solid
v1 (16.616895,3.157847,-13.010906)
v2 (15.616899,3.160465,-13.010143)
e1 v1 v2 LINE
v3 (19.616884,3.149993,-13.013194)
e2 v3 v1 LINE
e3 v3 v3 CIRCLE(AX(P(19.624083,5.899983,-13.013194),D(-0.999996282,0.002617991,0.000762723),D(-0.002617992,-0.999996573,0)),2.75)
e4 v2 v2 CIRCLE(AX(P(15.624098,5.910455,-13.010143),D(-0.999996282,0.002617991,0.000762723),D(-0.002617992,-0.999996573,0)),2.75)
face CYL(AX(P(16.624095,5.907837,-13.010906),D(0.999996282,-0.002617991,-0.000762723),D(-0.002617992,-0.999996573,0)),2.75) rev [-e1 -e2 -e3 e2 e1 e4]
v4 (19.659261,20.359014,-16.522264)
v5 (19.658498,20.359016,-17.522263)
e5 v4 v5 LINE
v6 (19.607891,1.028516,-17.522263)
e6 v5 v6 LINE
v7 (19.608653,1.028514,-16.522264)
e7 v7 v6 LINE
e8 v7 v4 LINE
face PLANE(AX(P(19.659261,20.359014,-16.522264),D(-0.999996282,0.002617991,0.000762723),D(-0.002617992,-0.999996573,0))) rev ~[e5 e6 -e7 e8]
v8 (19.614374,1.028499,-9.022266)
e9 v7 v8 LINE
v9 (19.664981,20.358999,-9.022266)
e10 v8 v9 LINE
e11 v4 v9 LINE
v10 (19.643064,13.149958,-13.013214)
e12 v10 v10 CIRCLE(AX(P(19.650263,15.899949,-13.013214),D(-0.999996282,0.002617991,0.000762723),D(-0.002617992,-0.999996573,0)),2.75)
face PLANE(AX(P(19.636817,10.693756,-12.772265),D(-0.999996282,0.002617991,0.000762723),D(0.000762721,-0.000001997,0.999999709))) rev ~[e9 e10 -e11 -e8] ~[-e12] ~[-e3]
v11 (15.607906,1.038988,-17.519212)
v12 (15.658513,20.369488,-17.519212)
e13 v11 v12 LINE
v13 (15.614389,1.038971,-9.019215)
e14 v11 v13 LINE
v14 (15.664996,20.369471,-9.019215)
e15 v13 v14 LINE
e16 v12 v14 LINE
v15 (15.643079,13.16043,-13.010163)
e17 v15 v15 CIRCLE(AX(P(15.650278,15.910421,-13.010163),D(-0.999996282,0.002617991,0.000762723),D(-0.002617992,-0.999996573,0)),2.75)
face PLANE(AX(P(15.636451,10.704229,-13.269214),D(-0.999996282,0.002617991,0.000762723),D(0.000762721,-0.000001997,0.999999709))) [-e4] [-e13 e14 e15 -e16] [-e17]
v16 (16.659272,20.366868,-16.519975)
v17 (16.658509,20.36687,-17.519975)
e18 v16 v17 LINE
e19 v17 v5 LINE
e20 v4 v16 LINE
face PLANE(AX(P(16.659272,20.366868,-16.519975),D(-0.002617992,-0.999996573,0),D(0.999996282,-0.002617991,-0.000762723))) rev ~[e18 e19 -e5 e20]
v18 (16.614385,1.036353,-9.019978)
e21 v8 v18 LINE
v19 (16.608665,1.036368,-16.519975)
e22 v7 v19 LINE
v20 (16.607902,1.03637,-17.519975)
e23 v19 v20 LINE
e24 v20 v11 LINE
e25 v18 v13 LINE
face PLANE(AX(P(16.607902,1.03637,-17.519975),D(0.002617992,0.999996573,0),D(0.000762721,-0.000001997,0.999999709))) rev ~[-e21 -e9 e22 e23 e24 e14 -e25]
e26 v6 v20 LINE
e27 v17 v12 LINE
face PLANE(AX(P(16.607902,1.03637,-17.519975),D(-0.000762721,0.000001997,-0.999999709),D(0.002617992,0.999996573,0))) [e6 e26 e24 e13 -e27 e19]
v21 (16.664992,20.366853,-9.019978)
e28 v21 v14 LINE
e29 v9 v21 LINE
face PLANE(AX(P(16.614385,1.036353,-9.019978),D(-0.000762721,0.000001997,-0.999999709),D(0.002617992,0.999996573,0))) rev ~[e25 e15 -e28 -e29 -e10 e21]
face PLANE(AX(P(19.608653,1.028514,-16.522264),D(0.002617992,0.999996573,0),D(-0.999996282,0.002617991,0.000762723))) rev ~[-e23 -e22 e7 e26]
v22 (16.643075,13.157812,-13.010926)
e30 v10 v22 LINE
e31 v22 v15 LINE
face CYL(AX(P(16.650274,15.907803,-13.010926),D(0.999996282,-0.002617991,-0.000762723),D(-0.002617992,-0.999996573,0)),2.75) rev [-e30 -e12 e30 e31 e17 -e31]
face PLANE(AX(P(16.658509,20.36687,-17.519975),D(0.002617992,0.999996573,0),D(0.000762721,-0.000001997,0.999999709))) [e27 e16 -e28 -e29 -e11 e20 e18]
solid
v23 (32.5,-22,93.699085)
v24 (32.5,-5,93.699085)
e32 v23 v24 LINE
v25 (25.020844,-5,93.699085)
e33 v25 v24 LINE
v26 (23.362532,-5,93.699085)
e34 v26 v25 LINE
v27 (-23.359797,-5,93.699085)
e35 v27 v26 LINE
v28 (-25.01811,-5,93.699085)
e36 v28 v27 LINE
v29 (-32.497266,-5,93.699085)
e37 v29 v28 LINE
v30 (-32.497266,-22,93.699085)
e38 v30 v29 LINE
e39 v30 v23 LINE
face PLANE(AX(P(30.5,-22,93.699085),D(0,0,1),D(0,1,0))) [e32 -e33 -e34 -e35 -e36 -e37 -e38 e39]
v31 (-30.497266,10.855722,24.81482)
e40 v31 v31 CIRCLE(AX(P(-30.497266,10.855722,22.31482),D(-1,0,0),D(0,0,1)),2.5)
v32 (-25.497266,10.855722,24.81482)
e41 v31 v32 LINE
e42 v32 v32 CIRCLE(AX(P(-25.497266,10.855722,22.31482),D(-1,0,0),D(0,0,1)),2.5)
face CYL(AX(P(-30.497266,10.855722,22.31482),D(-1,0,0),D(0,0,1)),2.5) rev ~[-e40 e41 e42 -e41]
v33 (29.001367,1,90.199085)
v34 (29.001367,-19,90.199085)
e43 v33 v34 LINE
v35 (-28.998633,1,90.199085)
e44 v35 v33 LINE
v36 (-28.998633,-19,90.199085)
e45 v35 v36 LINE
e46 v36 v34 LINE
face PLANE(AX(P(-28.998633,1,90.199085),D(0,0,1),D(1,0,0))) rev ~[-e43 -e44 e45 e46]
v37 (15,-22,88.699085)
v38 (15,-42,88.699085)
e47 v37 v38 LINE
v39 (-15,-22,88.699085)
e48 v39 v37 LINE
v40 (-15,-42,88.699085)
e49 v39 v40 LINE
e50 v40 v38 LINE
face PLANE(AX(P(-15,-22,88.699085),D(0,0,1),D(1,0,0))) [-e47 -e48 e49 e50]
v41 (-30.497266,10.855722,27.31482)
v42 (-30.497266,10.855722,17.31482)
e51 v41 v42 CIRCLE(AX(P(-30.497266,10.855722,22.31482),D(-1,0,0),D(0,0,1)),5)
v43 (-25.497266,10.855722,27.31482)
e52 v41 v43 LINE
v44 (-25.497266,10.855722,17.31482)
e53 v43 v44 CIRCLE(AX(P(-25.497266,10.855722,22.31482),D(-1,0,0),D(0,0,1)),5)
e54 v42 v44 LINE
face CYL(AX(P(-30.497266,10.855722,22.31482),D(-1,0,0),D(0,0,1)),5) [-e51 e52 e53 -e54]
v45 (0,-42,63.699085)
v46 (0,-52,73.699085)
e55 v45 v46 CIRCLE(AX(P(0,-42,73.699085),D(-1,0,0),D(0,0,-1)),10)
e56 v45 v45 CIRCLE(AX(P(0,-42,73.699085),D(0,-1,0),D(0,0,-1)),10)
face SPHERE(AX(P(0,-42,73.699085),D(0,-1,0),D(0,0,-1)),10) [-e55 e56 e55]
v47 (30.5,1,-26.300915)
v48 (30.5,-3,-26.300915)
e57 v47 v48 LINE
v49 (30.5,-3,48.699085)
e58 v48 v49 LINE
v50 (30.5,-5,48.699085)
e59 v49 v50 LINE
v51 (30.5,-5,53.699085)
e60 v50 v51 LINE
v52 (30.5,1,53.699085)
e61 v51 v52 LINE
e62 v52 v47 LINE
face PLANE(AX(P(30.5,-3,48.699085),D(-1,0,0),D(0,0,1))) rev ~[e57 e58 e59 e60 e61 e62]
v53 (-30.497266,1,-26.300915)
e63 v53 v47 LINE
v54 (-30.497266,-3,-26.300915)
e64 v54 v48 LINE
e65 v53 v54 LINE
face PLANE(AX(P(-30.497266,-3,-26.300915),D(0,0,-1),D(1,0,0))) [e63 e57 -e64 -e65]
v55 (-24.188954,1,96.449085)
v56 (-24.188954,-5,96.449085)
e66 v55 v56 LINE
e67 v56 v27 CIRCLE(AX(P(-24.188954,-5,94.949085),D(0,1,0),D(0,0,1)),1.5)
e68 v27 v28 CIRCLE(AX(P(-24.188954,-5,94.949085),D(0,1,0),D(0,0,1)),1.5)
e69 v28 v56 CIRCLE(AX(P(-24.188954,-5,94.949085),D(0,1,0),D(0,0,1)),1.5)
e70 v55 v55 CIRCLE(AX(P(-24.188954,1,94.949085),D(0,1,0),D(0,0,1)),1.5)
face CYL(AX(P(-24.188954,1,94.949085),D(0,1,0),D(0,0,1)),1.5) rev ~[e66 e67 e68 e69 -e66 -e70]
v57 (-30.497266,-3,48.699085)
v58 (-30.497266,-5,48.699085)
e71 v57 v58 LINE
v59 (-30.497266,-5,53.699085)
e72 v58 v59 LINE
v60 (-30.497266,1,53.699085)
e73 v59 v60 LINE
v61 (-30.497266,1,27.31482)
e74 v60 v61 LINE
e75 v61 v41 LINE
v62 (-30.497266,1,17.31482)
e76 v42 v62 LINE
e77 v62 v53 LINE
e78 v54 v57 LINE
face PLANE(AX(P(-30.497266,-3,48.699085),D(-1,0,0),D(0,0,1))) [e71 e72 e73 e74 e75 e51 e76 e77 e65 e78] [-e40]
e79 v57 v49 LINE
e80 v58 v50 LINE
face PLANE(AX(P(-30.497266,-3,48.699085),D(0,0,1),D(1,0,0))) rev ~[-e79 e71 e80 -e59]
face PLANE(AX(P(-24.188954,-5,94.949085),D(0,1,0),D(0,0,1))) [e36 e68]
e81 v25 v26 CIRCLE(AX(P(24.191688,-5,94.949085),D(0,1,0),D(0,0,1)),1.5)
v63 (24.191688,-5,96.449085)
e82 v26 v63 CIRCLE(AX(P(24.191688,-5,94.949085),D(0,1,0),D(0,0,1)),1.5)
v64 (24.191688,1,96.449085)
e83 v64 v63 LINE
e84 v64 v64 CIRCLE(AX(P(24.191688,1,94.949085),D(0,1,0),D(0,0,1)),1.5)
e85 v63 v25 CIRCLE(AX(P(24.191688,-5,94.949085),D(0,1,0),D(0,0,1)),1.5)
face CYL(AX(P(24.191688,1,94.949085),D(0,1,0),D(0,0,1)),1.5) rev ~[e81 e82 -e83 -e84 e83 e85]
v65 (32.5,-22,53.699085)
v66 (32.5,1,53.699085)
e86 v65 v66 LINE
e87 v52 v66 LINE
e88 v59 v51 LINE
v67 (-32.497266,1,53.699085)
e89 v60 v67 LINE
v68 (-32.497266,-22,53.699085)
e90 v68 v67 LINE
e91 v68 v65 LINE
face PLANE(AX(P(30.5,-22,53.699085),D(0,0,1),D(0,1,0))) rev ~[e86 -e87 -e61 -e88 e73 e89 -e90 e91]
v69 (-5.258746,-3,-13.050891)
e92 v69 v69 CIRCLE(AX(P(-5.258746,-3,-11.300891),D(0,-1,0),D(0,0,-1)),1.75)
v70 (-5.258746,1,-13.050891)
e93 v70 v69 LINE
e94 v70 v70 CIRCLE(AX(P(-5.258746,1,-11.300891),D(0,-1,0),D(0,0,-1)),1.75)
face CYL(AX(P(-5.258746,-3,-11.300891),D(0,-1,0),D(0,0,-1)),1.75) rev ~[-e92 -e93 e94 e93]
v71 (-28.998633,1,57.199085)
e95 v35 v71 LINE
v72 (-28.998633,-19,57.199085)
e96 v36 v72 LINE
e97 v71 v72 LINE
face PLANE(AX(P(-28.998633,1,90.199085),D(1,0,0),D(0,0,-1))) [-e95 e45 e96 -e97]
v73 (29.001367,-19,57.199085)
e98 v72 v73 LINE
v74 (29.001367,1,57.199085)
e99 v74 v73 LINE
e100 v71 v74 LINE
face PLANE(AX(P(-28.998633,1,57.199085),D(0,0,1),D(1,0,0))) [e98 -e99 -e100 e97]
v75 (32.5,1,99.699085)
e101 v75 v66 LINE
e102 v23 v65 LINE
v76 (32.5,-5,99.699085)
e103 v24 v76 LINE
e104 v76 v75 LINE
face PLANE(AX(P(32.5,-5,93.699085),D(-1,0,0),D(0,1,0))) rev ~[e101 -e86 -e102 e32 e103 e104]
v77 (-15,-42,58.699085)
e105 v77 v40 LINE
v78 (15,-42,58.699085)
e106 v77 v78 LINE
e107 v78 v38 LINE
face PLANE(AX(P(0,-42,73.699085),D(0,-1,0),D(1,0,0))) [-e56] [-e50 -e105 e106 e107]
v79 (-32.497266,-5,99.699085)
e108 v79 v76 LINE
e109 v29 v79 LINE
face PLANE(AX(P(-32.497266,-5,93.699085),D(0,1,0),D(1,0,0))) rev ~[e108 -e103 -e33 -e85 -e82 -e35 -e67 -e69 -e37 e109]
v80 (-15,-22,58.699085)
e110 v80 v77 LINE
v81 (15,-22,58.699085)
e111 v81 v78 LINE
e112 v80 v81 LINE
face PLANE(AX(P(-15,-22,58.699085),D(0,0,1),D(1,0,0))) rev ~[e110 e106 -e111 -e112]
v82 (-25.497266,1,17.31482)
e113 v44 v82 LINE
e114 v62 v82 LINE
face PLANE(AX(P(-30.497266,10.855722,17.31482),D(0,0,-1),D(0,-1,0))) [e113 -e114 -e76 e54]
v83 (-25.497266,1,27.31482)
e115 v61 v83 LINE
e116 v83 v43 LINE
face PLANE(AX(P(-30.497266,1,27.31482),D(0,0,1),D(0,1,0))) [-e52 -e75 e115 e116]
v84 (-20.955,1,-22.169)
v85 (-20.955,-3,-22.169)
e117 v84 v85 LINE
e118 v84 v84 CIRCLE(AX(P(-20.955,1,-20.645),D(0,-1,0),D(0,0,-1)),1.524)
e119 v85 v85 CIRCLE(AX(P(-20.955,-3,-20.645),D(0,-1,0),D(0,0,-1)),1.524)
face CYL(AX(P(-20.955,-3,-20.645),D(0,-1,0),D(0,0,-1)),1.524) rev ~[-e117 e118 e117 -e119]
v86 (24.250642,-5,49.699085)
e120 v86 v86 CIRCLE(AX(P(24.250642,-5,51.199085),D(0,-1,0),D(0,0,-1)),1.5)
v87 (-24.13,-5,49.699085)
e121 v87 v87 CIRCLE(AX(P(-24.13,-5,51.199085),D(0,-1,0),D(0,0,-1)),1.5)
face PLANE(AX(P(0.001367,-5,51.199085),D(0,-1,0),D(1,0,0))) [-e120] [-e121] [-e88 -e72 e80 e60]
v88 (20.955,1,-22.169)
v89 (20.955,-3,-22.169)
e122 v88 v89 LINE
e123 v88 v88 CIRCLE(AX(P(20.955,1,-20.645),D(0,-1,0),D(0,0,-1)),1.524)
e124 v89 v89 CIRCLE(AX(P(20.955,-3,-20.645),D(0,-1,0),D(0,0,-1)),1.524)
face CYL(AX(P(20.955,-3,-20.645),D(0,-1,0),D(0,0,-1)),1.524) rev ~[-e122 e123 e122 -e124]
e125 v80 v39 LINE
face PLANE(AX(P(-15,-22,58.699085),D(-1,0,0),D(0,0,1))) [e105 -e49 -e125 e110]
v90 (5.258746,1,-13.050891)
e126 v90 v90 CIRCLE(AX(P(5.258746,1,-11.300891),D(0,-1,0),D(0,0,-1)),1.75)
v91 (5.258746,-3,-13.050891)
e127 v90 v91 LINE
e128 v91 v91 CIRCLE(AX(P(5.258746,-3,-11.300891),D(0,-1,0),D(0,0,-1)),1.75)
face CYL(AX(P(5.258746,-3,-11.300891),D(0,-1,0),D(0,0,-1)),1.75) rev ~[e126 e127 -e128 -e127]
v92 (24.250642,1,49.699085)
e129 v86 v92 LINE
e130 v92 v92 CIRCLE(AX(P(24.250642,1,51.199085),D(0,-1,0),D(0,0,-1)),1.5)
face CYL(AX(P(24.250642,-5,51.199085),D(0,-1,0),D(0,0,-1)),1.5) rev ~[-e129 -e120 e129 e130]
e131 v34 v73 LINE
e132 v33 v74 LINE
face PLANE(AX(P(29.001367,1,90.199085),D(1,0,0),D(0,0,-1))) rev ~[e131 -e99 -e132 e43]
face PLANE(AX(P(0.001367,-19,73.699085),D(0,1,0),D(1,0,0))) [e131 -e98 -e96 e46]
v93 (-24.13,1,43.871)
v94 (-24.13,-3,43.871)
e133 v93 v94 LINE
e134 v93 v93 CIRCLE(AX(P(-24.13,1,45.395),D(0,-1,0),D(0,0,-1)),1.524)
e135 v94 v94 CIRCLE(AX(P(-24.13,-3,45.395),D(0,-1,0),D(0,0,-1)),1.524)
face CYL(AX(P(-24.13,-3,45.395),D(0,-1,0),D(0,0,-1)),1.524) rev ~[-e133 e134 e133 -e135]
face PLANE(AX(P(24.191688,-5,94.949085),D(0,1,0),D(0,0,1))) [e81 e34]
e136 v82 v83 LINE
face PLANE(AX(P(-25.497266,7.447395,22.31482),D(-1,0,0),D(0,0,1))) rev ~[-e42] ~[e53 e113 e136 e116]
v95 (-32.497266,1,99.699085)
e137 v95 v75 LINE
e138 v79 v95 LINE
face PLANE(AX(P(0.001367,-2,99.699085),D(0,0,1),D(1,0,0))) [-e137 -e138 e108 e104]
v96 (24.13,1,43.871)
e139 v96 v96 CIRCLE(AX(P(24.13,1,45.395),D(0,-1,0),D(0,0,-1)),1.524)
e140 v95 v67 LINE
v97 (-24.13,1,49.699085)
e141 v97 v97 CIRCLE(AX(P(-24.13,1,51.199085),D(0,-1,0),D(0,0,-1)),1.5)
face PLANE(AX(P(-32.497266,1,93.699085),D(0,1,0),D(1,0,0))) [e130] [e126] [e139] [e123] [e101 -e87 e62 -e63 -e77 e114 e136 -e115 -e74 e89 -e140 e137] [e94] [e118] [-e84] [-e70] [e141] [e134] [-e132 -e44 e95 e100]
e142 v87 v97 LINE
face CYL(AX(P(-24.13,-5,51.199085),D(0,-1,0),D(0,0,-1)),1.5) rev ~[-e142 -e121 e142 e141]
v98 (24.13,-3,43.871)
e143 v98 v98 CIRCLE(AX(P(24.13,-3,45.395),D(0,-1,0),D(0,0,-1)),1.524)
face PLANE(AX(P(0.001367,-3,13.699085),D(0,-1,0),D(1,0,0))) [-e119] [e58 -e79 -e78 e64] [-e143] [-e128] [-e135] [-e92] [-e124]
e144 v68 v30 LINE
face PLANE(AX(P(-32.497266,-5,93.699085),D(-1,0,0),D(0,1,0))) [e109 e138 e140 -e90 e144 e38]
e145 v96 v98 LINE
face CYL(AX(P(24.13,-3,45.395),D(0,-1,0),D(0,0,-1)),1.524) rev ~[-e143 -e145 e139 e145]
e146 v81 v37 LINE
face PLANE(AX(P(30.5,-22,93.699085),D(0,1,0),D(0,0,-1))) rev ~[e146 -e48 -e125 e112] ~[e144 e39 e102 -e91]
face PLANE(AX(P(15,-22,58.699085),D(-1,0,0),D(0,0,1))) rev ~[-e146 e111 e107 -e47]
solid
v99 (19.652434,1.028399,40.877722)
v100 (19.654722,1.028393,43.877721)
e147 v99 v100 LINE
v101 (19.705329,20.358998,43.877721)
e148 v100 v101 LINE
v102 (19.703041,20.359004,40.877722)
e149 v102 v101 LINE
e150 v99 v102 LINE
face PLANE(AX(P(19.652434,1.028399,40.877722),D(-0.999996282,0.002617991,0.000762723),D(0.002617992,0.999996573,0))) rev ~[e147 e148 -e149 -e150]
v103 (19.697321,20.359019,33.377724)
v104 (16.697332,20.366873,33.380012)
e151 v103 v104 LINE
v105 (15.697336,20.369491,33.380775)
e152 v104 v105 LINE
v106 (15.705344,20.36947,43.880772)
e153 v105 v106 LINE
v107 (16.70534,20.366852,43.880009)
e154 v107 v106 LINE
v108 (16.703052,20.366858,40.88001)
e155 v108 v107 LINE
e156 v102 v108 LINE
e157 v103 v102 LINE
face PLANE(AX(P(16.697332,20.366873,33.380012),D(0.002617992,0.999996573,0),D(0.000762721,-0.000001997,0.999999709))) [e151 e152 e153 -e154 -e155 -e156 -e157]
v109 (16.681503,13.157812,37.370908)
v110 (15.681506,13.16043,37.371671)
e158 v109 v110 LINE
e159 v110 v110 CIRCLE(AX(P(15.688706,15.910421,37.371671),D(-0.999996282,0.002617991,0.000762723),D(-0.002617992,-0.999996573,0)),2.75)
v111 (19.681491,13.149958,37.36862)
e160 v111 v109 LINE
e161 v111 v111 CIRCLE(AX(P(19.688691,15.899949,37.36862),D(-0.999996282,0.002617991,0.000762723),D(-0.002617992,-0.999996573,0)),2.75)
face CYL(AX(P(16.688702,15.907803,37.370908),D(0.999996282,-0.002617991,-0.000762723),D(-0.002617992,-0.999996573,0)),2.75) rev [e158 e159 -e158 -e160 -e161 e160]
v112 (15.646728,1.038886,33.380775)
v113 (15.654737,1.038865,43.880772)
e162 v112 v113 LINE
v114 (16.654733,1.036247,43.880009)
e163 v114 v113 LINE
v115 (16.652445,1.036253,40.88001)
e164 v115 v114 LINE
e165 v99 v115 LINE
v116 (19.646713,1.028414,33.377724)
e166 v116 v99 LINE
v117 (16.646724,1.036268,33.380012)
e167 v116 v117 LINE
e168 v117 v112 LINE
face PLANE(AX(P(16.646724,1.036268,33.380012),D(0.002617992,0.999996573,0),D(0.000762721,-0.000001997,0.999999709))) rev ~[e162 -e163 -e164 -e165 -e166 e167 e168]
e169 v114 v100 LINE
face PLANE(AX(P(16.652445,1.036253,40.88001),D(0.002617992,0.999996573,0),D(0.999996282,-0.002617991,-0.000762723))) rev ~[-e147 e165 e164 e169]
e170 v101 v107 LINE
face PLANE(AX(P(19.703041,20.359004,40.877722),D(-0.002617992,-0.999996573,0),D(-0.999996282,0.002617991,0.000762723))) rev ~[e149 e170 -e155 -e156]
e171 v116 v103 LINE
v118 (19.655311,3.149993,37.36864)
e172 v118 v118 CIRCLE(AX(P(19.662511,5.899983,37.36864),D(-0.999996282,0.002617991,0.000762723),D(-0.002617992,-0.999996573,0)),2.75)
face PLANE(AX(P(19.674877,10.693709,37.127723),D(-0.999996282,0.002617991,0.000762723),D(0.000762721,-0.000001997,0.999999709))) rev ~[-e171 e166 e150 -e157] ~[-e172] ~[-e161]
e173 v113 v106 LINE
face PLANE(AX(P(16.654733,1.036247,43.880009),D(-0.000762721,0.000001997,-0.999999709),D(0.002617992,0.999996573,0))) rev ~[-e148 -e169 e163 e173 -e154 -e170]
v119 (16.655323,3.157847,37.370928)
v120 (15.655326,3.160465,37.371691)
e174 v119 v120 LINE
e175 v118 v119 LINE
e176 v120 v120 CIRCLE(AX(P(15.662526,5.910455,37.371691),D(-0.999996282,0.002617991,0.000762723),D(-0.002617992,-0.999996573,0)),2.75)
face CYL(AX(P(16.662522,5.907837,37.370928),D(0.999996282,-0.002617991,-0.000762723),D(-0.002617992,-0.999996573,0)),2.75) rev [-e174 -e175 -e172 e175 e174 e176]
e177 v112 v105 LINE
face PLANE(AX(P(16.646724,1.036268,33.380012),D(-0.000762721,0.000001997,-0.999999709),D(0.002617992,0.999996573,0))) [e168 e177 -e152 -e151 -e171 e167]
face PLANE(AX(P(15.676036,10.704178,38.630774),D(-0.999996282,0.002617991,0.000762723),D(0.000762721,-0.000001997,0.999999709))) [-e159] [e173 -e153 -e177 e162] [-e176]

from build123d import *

# Parameters (mm, degrees)
SKETCH_1_W               = 60.99726579
SKETCH_1_H               = 80
EXTRUDE_1_DEPTH          = 1
SKETCH_2_R               = 1.524
CUT_EXTRUDE_1_DEPTH      = 1
SKETCH_3_W               = 1
SKETCH_3_H               = 21.992162459
EXTRUDE_2_DEPTH          = 22
SKETCH_7_W               = 7.5
SKETCH_7_H               = 19.330567091
SKETCH_7_R               = 2.75
EXTRUDE_3_DEPTH          = 3
SKETCH_7_H_2             = 19.330671724
EXTRUDE_3_2_DEPTH        = 3
SKETCH_8_R               = 2.5
EXTRUDE_4_DEPTH          = 5
SKETCH_12_W              = 2
SKETCH_12_H              = 21.992162459
EXTRUDE_5_DEPTH          = 22
CUT_EXTRUDE_3_DEPTH      = 72.341536493
CUT_EXTRUDE_3_DEPTH_BACK = 15
SKETCH_9_R               = 1.75
SKETCH_14_W              = 17.99726579
SKETCH_14_H              = 10.99608123
EXTRUDE_6_DEPTH          = 3
SKETCH_15_R              = 1.75
CUT_EXTRUDE_4_DEPTH      = 67.029179397
SKETCH_18_W              = 125.682596232
SKETCH_18_H              = 131.027051286
CUT_EXTRUDE_6_DEPTH      = 66.55792676
EXTRUDE_START            = 3
SKETCH_19_W              = 60.99726579
SKETCH_19_H              = 80
SKETCH_19_R              = 1.524
SKETCH_19_R_2            = 1.75
EXTRUDE_7_DEPTH          = 3
SKETCH_20_W              = 60.99726579
SKETCH_20_H              = 40
EXTRUDE_8_DEPTH          = 23
SKETCH_21_W              = 58
SKETCH_21_H              = 33
CUT_EXTRUDE_7_DEPTH      = 20
SKETCH_26_W              = 30
SKETCH_26_H              = 30
EXTRUDE_9_DEPTH          = 20
EXTRUDE_10_DEPTH         = 3
SKETCH_28_W              = 10.5
SKETCH_28_H              = 19.330671724
SKETCH_28_R              = 2.75
EXTRUDE_11_DEPTH         = 1
EXTRUDE_12_DEPTH         = 1
SKETCH_30_W              = 8.5
SKETCH_30_H              = 19.330567091
SKETCH_30_R              = 2.75
EXTRUDE_13_DEPTH         = 1
SKETCH_31_W              = 60.99726579
SKETCH_31_H              = 5
SKETCH_31_R              = 1.5
EXTRUDE_14_DEPTH         = 2
SKETCH_33_R              = 1.5
CUT_EXTRUDE_8_DEPTH      = 110.173112919
SKETCH_35_W              = 40
SKETCH_35_H              = 23
EXTRUDE_15_DEPTH         = 2
SKETCH_36_W              = 40
SKETCH_36_H              = 23
EXTRUDE_16_DEPTH         = 2
SKETCH_38_W              = 64.99726579
SKETCH_38_H              = 6
EXTRUDE_17_DEPTH         = 6
SKETCH_39_R              = 1.5
CUT_EXTRUDE_11_DEPTH     = 6


with BuildPart() as part:
    # 스케치1 → 보스-돌출1 (new body)
    with BuildSketch(Plane(origin=(0, 0, 0), x_dir=(1, 0, 0), z_dir=(0, 1, 0))):
        with Locations((0.001367105, -13.699085291)):
            Rectangle(SKETCH_1_W, SKETCH_1_H)
    extrude(amount=EXTRUDE_1_DEPTH)

    # 스케치2 → 컷-돌출1 (cut)
    with BuildSketch(Plane.XZ):
        with Locations(Location((-24.13, 45.395, 0), (0, 0, 270))):
            Circle(SKETCH_2_R)
        with Locations(Location((24.13, 45.395, 0), (0, 0, 270))):
            Circle(SKETCH_2_R)
        with Locations(Location((-20.955, -20.645, 0), (0, 0, 270))):
            Circle(SKETCH_2_R)
        with Locations(Location((20.955, -20.645, 0), (0, 0, 270))):
            Circle(SKETCH_2_R)
    extrude(amount=-CUT_EXTRUDE_1_DEPTH, mode=Mode.SUBTRACT)

    # 스케치3 → 보스-돌출2 (add)
    with BuildSketch(Plane.XZ):
        with Locations((-11.49726579, -15.30483348)):
            Rectangle(SKETCH_3_W, SKETCH_3_H)
        with Locations((11.5, -15.30483348)):
            Rectangle(SKETCH_3_W, SKETCH_3_H)
    extrude(amount=EXTRUDE_2_DEPTH)

    # 스케치8 → 보스-돌출4 (add)
    with BuildSketch(Plane.ZY.offset(30.49726579)):
        with BuildLine():
            Line((17.314820169, 10.855722027), (17.314820169, 1))
            Line((17.314820169, 1), (27.314820169, 1))
            Line((27.314820169, 1), (27.314820169, 10.855722027))
            ThreePointArc((27.314820169, 10.855722027), (22.314820169, 15.855722027), (17.314820169, 10.855722027))
        make_face()
        with Locations((22.314820169, 10.855722027)):
            Circle(SKETCH_8_R, mode=Mode.SUBTRACT)
    extrude(amount=-EXTRUDE_4_DEPTH)

    # 스케치12 → 보스-돌출5 (add)
    with BuildSketch(Plane.XZ):
        with Locations((-9.99726579, -15.30483348)):
            Rectangle(SKETCH_12_W, SKETCH_12_H)
        with Locations((10, -15.30483348)):
            Rectangle(SKETCH_12_W, SKETCH_12_H)
    extrude(amount=EXTRUDE_5_DEPTH)

    # 스케치9 → 컷-돌출3 (cut, two sides: drawn at the far end of the back side and taken through both)
    with BuildSketch(Plane.ZY.offset(-11).offset(-CUT_EXTRUDE_3_DEPTH_BACK)):
        with Locations(Location((-22.606276953, -2.5, 0), (0, 0, 180))):
            Circle(SKETCH_9_R)
        with Locations(Location((-22.606276953, -19.5, 0), (0, 0, 180))):
            Circle(SKETCH_9_R)
    extrude(amount=CUT_EXTRUDE_3_DEPTH + CUT_EXTRUDE_3_DEPTH_BACK, mode=Mode.SUBTRACT)

    # 스케치14 → 보스-돌출6 (add)
    with BuildSketch(Plane.XZ):
        with Locations((0.001367105, -9.806792865)):
            Rectangle(SKETCH_14_W, SKETCH_14_H)
    extrude(amount=EXTRUDE_6_DEPTH)

    # 스케치15 → 컷-돌출4 (cut, through all)
    with BuildSketch(Plane.XZ.offset(3)):
        with Locations(Location((-5.258745872, -11.300890987, 0), (0, 0, 270))):
            Circle(SKETCH_15_R)
        with Locations(Location((5.258745872, -11.300890987, 0), (0, 0, 270))):
            Circle(SKETCH_15_R)
    extrude(amount=-CUT_EXTRUDE_4_DEPTH, mode=Mode.SUBTRACT)

    # 스케치18 → 컷-돌출6 (cut, through all)
    with BuildSketch(Plane.XZ):
        with Locations((10.227533259, 5.024212254)):
            Rectangle(SKETCH_18_W, SKETCH_18_H)
    extrude(amount=CUT_EXTRUDE_6_DEPTH, mode=Mode.SUBTRACT)

    # 스케치19 → 보스-돌출7 (add)
    with BuildSketch(Plane.XZ.offset(EXTRUDE_START)):
        with Locations((0.001367105, 13.699085291)):
            Rectangle(SKETCH_19_W, SKETCH_19_H)
        with Locations(Location((-24.13, 45.395, 0), (0, 0, 270))):
            Circle(SKETCH_19_R, mode=Mode.SUBTRACT)
        with Locations(Location((24.13, 45.395, 0), (0, 0, 270))):
            Circle(SKETCH_19_R, mode=Mode.SUBTRACT)
        with Locations(Location((-5.258745872, -11.300890987, 0), (0, 0, 270))):
            Circle(SKETCH_19_R_2, mode=Mode.SUBTRACT)
        with Locations(Location((5.258745872, -11.300890987, 0), (0, 0, 270))):
            Circle(SKETCH_19_R_2, mode=Mode.SUBTRACT)
        with Locations(Location((-20.955, -20.645, 0), (0, 0, 270))):
            Circle(SKETCH_19_R, mode=Mode.SUBTRACT)
        with Locations(Location((20.955, -20.645, 0), (0, 0, 270))):
            Circle(SKETCH_19_R, mode=Mode.SUBTRACT)
    extrude(amount=-EXTRUDE_7_DEPTH)

    # 스케치20 → 보스-돌출8 (add)
    with BuildSketch(Plane(origin=(0, 1, 0), x_dir=(1, 0, 0), z_dir=(0, 1, 0))):
        with Locations((0.001367105, -73.699085291)):
            Rectangle(SKETCH_20_W, SKETCH_20_H)
    extrude(amount=-EXTRUDE_8_DEPTH)

    # 스케치21 → 컷-돌출7 (cut)
    with BuildSketch(Plane(origin=(0, 1, 0), x_dir=(1, 0, 0), z_dir=(0, 1, 0))):
        with Locations((0.001367105, -73.699085291)):
            Rectangle(SKETCH_21_W, SKETCH_21_H)
    extrude(amount=-CUT_EXTRUDE_7_DEPTH, mode=Mode.SUBTRACT)



with BuildPart() as body_2:
    # 스케치7 → 보스-돌출3 (new body)
    with BuildSketch(Plane(origin=(19.618416861, -0.051361028, -0.014963481), x_dir=(0.0007627207868309801, -1.996803493320823e-06, 0.9999997091264647), z_dir=(-0.9999962821814526, 0.002617990887417953, 0.0007627234006428938))):
        with Locations((-12.757304863, 10.745128864)):
            Rectangle(SKETCH_7_W, SKETCH_7_H)
        with Locations(Location((-12.998254061, 15.951338675, 0), (0, 0, 270))):
            Circle(SKETCH_7_R, mode=Mode.SUBTRACT)
        with Locations(Location((-12.998234093, 5.951338675, 0), (0, 0, 270))):
            Circle(SKETCH_7_R, mode=Mode.SUBTRACT)
    extrude(amount=EXTRUDE_3_DEPTH)

    # 스케치29 → 보스-돌출12 (add)
    with BuildSketch(Plane(origin=(-0.012590465, 3.2962e-05, -16.507300061), x_dir=(-0.9999997091284585, -1.523003974434168e-09, 0.0007627207868294601), z_dir=(-0.0007627207868309806, 1.996803493141394e-06, -0.9999997091264647))):
        Polygon((-19.671856873, 20.358981407), (-19.621249595, 1.02848056), (-16.621259875, 1.036334538), (-16.671867153, 20.366835384), align=None)
    extrude(amount=EXTRUDE_12_DEPTH)

    # 스케치30 → 보스-돌출13 (add)
    with BuildSketch(Plane(origin=(16.618428015, -0.043507055, -0.012675311), x_dir=(0.0007627207868311324, -1.996803493321271e-06, 0.9999997091264647), z_dir=(-0.9999962821814526, 0.002617990887418022, 0.0007627234006430462))):
        with Locations((-13.257304863, 10.745128864)):
            Rectangle(SKETCH_30_W, SKETCH_30_H)
        with Locations(Location((-12.998254061, 15.951338675, 0), (0, 0, 270))):
            Circle(SKETCH_30_R, mode=Mode.SUBTRACT)
        with Locations(Location((-12.998234093, 5.951338675, 0), (0, 0, 270))):
            Circle(SKETCH_30_R, mode=Mode.SUBTRACT)
    extrude(amount=EXTRUDE_13_DEPTH)


with BuildPart() as body_3:
    # 스케치7 → Extrude 3 2 (new body)
    with BuildSketch(Plane(origin=(19.618416861, -0.051361028, -0.014963481), x_dir=(0.0007627207868309801, -1.996803493320823e-06, 0.9999997091264647), z_dir=(-0.9999962821814526, 0.002617990887417953, 0.0007627234006428938))):
        with Locations((37.142697347, 10.74518118)):
            Rectangle(SKETCH_7_W, SKETCH_7_H_2)
        with Locations(Location((37.383594441, 15.951439278, 0), (0, 0, 270))):
            Circle(SKETCH_7_R, mode=Mode.SUBTRACT)
        with Locations(Location((37.383614409, 5.951439278, 0), (0, 0, 270))):
            Circle(SKETCH_7_R, mode=Mode.SUBTRACT)
    extrude(amount=EXTRUDE_3_2_DEPTH)

    # 스케치27 → 보스-돌출10 (add)
    with BuildSketch(Plane(origin=(0.03118971, -8.1655e-05, 40.892685452), x_dir=(0.9999997091284585, 1.5230039745710364e-09, -0.0007627207868294599), z_dir=(0.0007627207868309804, -1.9968034933208416e-06, 0.9999997091264647))):
        Polygon((19.621249595, 1.02848056), (19.671857146, 20.359086039), (16.671867427, 20.366940016), (16.621259875, 1.036334538), align=None)
    extrude(amount=EXTRUDE_10_DEPTH)

    # 스케치28 → 보스-돌출11 (add)
    with BuildSketch(Plane(origin=(16.618428015, -0.043507055, -0.012675311), x_dir=(0.00076272078683067, -1.996803493320029e-06, 0.9999997091264647), z_dir=(-0.9999962821814526, 0.002617990887417981, 0.0007627234006425838))):
        with Locations((38.642697347, 10.74518118)):
            Rectangle(SKETCH_28_W, SKETCH_28_H)
        with Locations(Location((37.383594441, 15.951439278, 0), (0, 0, 270))):
            Circle(SKETCH_28_R, mode=Mode.SUBTRACT)
        with Locations(Location((37.383614409, 5.951439278, 0), (0, 0, 270))):
            Circle(SKETCH_28_R, mode=Mode.SUBTRACT)
    extrude(amount=EXTRUDE_11_DEPTH)


with BuildPart() as body_4:
    # 스케치24 → 회전1 (revolve)
    with BuildSketch(Plane(origin=(0, 0, 0), x_dir=(0, 0, -1), z_dir=(1, 0, 0))):
        with BuildLine():
            Line((-73.699085291, -52), (-73.699085291, -42))
            Line((-73.699085291, -42), (-63.699085291, -42))
            ThreePointArc((-63.699085291, -42), (-66.628017479, -49.071067812), (-73.699085291, -52))
        make_face()
    revolve(axis=Axis((0, -22, 73.699085291), (0, -1, 0)))


with BuildPart() as part_1:
    add(part.part)

    add(body_4.part)  # 보스-돌출9 merges body 4
    # 스케치26 → 보스-돌출9 (add)
    with BuildSketch(Plane.XZ.offset(22)):
        with Locations((0, 73.699085291)):
            Rectangle(SKETCH_26_W, SKETCH_26_H)
    extrude(amount=EXTRUDE_9_DEPTH)

    # 스케치31 → 보스-돌출14 (add)
    with BuildSketch(Plane.XZ.offset(3)):
        with Locations((0.001367105, 51.199085291)):
            Rectangle(SKETCH_31_W, SKETCH_31_H)
        with Locations(Location((-24.13, 51.199085291, 0), (0, 0, 270))):
            Circle(SKETCH_31_R, mode=Mode.SUBTRACT)
        with Locations(Location((24.250641605, 51.199085291, 0), (0, 0, 270))):
            Circle(SKETCH_31_R, mode=Mode.SUBTRACT)
    extrude(amount=EXTRUDE_14_DEPTH)

    # 스케치33 → 컷-돌출8 (cut, through all)
    with BuildSketch(Plane.XZ.offset(5)):
        with Locations(Location((24.250641605, 51.199085291, 0), (0, 0, 270))):
            Circle(SKETCH_33_R)
        with Locations(Location((-24.13, 51.199085291, 0), (0, 0, 270))):
            Circle(SKETCH_33_R)
    extrude(amount=-CUT_EXTRUDE_8_DEPTH, mode=Mode.SUBTRACT)

    # 스케치35 → 보스-돌출15 (add)
    with BuildSketch(Plane.ZY.offset(30.49726579)):
        with Locations((73.699085291, -10.5)):
            Rectangle(SKETCH_35_W, SKETCH_35_H)
    extrude(amount=EXTRUDE_15_DEPTH)

    # 스케치36 → 보스-돌출16 (add)
    with BuildSketch(Plane(origin=(30.5, 0, 0), x_dir=(0, 0, -1), z_dir=(1, 0, 0))):
        with Locations((-73.699085291, -10.5)):
            Rectangle(SKETCH_36_W, SKETCH_36_H)
    extrude(amount=EXTRUDE_16_DEPTH)

    # 스케치38 → 보스-돌출17 (add)
    with BuildSketch(Plane.XY.offset(93.699085291)):
        with Locations((0.001367105, -2)):
            Rectangle(SKETCH_38_W, SKETCH_38_H)
    extrude(amount=EXTRUDE_17_DEPTH)

    # 스케치39 → 컷-돌출11 (cut)
    with BuildSketch(Plane(origin=(0, 1, 0), x_dir=(1, 0, 0), z_dir=(0, 1, 0))):
        with Locations(Location((-24.188953697, -94.949085291, 0), (0, 0, 270))):
            Circle(SKETCH_39_R)
        with Locations(Location((24.191687908, -94.949085291, 0), (0, 0, 270))):
            Circle(SKETCH_39_R)
    extrude(amount=-CUT_EXTRUDE_11_DEPTH, mode=Mode.SUBTRACT)


solid = Compound([body_2.part, body_3.part, part_1.part])
